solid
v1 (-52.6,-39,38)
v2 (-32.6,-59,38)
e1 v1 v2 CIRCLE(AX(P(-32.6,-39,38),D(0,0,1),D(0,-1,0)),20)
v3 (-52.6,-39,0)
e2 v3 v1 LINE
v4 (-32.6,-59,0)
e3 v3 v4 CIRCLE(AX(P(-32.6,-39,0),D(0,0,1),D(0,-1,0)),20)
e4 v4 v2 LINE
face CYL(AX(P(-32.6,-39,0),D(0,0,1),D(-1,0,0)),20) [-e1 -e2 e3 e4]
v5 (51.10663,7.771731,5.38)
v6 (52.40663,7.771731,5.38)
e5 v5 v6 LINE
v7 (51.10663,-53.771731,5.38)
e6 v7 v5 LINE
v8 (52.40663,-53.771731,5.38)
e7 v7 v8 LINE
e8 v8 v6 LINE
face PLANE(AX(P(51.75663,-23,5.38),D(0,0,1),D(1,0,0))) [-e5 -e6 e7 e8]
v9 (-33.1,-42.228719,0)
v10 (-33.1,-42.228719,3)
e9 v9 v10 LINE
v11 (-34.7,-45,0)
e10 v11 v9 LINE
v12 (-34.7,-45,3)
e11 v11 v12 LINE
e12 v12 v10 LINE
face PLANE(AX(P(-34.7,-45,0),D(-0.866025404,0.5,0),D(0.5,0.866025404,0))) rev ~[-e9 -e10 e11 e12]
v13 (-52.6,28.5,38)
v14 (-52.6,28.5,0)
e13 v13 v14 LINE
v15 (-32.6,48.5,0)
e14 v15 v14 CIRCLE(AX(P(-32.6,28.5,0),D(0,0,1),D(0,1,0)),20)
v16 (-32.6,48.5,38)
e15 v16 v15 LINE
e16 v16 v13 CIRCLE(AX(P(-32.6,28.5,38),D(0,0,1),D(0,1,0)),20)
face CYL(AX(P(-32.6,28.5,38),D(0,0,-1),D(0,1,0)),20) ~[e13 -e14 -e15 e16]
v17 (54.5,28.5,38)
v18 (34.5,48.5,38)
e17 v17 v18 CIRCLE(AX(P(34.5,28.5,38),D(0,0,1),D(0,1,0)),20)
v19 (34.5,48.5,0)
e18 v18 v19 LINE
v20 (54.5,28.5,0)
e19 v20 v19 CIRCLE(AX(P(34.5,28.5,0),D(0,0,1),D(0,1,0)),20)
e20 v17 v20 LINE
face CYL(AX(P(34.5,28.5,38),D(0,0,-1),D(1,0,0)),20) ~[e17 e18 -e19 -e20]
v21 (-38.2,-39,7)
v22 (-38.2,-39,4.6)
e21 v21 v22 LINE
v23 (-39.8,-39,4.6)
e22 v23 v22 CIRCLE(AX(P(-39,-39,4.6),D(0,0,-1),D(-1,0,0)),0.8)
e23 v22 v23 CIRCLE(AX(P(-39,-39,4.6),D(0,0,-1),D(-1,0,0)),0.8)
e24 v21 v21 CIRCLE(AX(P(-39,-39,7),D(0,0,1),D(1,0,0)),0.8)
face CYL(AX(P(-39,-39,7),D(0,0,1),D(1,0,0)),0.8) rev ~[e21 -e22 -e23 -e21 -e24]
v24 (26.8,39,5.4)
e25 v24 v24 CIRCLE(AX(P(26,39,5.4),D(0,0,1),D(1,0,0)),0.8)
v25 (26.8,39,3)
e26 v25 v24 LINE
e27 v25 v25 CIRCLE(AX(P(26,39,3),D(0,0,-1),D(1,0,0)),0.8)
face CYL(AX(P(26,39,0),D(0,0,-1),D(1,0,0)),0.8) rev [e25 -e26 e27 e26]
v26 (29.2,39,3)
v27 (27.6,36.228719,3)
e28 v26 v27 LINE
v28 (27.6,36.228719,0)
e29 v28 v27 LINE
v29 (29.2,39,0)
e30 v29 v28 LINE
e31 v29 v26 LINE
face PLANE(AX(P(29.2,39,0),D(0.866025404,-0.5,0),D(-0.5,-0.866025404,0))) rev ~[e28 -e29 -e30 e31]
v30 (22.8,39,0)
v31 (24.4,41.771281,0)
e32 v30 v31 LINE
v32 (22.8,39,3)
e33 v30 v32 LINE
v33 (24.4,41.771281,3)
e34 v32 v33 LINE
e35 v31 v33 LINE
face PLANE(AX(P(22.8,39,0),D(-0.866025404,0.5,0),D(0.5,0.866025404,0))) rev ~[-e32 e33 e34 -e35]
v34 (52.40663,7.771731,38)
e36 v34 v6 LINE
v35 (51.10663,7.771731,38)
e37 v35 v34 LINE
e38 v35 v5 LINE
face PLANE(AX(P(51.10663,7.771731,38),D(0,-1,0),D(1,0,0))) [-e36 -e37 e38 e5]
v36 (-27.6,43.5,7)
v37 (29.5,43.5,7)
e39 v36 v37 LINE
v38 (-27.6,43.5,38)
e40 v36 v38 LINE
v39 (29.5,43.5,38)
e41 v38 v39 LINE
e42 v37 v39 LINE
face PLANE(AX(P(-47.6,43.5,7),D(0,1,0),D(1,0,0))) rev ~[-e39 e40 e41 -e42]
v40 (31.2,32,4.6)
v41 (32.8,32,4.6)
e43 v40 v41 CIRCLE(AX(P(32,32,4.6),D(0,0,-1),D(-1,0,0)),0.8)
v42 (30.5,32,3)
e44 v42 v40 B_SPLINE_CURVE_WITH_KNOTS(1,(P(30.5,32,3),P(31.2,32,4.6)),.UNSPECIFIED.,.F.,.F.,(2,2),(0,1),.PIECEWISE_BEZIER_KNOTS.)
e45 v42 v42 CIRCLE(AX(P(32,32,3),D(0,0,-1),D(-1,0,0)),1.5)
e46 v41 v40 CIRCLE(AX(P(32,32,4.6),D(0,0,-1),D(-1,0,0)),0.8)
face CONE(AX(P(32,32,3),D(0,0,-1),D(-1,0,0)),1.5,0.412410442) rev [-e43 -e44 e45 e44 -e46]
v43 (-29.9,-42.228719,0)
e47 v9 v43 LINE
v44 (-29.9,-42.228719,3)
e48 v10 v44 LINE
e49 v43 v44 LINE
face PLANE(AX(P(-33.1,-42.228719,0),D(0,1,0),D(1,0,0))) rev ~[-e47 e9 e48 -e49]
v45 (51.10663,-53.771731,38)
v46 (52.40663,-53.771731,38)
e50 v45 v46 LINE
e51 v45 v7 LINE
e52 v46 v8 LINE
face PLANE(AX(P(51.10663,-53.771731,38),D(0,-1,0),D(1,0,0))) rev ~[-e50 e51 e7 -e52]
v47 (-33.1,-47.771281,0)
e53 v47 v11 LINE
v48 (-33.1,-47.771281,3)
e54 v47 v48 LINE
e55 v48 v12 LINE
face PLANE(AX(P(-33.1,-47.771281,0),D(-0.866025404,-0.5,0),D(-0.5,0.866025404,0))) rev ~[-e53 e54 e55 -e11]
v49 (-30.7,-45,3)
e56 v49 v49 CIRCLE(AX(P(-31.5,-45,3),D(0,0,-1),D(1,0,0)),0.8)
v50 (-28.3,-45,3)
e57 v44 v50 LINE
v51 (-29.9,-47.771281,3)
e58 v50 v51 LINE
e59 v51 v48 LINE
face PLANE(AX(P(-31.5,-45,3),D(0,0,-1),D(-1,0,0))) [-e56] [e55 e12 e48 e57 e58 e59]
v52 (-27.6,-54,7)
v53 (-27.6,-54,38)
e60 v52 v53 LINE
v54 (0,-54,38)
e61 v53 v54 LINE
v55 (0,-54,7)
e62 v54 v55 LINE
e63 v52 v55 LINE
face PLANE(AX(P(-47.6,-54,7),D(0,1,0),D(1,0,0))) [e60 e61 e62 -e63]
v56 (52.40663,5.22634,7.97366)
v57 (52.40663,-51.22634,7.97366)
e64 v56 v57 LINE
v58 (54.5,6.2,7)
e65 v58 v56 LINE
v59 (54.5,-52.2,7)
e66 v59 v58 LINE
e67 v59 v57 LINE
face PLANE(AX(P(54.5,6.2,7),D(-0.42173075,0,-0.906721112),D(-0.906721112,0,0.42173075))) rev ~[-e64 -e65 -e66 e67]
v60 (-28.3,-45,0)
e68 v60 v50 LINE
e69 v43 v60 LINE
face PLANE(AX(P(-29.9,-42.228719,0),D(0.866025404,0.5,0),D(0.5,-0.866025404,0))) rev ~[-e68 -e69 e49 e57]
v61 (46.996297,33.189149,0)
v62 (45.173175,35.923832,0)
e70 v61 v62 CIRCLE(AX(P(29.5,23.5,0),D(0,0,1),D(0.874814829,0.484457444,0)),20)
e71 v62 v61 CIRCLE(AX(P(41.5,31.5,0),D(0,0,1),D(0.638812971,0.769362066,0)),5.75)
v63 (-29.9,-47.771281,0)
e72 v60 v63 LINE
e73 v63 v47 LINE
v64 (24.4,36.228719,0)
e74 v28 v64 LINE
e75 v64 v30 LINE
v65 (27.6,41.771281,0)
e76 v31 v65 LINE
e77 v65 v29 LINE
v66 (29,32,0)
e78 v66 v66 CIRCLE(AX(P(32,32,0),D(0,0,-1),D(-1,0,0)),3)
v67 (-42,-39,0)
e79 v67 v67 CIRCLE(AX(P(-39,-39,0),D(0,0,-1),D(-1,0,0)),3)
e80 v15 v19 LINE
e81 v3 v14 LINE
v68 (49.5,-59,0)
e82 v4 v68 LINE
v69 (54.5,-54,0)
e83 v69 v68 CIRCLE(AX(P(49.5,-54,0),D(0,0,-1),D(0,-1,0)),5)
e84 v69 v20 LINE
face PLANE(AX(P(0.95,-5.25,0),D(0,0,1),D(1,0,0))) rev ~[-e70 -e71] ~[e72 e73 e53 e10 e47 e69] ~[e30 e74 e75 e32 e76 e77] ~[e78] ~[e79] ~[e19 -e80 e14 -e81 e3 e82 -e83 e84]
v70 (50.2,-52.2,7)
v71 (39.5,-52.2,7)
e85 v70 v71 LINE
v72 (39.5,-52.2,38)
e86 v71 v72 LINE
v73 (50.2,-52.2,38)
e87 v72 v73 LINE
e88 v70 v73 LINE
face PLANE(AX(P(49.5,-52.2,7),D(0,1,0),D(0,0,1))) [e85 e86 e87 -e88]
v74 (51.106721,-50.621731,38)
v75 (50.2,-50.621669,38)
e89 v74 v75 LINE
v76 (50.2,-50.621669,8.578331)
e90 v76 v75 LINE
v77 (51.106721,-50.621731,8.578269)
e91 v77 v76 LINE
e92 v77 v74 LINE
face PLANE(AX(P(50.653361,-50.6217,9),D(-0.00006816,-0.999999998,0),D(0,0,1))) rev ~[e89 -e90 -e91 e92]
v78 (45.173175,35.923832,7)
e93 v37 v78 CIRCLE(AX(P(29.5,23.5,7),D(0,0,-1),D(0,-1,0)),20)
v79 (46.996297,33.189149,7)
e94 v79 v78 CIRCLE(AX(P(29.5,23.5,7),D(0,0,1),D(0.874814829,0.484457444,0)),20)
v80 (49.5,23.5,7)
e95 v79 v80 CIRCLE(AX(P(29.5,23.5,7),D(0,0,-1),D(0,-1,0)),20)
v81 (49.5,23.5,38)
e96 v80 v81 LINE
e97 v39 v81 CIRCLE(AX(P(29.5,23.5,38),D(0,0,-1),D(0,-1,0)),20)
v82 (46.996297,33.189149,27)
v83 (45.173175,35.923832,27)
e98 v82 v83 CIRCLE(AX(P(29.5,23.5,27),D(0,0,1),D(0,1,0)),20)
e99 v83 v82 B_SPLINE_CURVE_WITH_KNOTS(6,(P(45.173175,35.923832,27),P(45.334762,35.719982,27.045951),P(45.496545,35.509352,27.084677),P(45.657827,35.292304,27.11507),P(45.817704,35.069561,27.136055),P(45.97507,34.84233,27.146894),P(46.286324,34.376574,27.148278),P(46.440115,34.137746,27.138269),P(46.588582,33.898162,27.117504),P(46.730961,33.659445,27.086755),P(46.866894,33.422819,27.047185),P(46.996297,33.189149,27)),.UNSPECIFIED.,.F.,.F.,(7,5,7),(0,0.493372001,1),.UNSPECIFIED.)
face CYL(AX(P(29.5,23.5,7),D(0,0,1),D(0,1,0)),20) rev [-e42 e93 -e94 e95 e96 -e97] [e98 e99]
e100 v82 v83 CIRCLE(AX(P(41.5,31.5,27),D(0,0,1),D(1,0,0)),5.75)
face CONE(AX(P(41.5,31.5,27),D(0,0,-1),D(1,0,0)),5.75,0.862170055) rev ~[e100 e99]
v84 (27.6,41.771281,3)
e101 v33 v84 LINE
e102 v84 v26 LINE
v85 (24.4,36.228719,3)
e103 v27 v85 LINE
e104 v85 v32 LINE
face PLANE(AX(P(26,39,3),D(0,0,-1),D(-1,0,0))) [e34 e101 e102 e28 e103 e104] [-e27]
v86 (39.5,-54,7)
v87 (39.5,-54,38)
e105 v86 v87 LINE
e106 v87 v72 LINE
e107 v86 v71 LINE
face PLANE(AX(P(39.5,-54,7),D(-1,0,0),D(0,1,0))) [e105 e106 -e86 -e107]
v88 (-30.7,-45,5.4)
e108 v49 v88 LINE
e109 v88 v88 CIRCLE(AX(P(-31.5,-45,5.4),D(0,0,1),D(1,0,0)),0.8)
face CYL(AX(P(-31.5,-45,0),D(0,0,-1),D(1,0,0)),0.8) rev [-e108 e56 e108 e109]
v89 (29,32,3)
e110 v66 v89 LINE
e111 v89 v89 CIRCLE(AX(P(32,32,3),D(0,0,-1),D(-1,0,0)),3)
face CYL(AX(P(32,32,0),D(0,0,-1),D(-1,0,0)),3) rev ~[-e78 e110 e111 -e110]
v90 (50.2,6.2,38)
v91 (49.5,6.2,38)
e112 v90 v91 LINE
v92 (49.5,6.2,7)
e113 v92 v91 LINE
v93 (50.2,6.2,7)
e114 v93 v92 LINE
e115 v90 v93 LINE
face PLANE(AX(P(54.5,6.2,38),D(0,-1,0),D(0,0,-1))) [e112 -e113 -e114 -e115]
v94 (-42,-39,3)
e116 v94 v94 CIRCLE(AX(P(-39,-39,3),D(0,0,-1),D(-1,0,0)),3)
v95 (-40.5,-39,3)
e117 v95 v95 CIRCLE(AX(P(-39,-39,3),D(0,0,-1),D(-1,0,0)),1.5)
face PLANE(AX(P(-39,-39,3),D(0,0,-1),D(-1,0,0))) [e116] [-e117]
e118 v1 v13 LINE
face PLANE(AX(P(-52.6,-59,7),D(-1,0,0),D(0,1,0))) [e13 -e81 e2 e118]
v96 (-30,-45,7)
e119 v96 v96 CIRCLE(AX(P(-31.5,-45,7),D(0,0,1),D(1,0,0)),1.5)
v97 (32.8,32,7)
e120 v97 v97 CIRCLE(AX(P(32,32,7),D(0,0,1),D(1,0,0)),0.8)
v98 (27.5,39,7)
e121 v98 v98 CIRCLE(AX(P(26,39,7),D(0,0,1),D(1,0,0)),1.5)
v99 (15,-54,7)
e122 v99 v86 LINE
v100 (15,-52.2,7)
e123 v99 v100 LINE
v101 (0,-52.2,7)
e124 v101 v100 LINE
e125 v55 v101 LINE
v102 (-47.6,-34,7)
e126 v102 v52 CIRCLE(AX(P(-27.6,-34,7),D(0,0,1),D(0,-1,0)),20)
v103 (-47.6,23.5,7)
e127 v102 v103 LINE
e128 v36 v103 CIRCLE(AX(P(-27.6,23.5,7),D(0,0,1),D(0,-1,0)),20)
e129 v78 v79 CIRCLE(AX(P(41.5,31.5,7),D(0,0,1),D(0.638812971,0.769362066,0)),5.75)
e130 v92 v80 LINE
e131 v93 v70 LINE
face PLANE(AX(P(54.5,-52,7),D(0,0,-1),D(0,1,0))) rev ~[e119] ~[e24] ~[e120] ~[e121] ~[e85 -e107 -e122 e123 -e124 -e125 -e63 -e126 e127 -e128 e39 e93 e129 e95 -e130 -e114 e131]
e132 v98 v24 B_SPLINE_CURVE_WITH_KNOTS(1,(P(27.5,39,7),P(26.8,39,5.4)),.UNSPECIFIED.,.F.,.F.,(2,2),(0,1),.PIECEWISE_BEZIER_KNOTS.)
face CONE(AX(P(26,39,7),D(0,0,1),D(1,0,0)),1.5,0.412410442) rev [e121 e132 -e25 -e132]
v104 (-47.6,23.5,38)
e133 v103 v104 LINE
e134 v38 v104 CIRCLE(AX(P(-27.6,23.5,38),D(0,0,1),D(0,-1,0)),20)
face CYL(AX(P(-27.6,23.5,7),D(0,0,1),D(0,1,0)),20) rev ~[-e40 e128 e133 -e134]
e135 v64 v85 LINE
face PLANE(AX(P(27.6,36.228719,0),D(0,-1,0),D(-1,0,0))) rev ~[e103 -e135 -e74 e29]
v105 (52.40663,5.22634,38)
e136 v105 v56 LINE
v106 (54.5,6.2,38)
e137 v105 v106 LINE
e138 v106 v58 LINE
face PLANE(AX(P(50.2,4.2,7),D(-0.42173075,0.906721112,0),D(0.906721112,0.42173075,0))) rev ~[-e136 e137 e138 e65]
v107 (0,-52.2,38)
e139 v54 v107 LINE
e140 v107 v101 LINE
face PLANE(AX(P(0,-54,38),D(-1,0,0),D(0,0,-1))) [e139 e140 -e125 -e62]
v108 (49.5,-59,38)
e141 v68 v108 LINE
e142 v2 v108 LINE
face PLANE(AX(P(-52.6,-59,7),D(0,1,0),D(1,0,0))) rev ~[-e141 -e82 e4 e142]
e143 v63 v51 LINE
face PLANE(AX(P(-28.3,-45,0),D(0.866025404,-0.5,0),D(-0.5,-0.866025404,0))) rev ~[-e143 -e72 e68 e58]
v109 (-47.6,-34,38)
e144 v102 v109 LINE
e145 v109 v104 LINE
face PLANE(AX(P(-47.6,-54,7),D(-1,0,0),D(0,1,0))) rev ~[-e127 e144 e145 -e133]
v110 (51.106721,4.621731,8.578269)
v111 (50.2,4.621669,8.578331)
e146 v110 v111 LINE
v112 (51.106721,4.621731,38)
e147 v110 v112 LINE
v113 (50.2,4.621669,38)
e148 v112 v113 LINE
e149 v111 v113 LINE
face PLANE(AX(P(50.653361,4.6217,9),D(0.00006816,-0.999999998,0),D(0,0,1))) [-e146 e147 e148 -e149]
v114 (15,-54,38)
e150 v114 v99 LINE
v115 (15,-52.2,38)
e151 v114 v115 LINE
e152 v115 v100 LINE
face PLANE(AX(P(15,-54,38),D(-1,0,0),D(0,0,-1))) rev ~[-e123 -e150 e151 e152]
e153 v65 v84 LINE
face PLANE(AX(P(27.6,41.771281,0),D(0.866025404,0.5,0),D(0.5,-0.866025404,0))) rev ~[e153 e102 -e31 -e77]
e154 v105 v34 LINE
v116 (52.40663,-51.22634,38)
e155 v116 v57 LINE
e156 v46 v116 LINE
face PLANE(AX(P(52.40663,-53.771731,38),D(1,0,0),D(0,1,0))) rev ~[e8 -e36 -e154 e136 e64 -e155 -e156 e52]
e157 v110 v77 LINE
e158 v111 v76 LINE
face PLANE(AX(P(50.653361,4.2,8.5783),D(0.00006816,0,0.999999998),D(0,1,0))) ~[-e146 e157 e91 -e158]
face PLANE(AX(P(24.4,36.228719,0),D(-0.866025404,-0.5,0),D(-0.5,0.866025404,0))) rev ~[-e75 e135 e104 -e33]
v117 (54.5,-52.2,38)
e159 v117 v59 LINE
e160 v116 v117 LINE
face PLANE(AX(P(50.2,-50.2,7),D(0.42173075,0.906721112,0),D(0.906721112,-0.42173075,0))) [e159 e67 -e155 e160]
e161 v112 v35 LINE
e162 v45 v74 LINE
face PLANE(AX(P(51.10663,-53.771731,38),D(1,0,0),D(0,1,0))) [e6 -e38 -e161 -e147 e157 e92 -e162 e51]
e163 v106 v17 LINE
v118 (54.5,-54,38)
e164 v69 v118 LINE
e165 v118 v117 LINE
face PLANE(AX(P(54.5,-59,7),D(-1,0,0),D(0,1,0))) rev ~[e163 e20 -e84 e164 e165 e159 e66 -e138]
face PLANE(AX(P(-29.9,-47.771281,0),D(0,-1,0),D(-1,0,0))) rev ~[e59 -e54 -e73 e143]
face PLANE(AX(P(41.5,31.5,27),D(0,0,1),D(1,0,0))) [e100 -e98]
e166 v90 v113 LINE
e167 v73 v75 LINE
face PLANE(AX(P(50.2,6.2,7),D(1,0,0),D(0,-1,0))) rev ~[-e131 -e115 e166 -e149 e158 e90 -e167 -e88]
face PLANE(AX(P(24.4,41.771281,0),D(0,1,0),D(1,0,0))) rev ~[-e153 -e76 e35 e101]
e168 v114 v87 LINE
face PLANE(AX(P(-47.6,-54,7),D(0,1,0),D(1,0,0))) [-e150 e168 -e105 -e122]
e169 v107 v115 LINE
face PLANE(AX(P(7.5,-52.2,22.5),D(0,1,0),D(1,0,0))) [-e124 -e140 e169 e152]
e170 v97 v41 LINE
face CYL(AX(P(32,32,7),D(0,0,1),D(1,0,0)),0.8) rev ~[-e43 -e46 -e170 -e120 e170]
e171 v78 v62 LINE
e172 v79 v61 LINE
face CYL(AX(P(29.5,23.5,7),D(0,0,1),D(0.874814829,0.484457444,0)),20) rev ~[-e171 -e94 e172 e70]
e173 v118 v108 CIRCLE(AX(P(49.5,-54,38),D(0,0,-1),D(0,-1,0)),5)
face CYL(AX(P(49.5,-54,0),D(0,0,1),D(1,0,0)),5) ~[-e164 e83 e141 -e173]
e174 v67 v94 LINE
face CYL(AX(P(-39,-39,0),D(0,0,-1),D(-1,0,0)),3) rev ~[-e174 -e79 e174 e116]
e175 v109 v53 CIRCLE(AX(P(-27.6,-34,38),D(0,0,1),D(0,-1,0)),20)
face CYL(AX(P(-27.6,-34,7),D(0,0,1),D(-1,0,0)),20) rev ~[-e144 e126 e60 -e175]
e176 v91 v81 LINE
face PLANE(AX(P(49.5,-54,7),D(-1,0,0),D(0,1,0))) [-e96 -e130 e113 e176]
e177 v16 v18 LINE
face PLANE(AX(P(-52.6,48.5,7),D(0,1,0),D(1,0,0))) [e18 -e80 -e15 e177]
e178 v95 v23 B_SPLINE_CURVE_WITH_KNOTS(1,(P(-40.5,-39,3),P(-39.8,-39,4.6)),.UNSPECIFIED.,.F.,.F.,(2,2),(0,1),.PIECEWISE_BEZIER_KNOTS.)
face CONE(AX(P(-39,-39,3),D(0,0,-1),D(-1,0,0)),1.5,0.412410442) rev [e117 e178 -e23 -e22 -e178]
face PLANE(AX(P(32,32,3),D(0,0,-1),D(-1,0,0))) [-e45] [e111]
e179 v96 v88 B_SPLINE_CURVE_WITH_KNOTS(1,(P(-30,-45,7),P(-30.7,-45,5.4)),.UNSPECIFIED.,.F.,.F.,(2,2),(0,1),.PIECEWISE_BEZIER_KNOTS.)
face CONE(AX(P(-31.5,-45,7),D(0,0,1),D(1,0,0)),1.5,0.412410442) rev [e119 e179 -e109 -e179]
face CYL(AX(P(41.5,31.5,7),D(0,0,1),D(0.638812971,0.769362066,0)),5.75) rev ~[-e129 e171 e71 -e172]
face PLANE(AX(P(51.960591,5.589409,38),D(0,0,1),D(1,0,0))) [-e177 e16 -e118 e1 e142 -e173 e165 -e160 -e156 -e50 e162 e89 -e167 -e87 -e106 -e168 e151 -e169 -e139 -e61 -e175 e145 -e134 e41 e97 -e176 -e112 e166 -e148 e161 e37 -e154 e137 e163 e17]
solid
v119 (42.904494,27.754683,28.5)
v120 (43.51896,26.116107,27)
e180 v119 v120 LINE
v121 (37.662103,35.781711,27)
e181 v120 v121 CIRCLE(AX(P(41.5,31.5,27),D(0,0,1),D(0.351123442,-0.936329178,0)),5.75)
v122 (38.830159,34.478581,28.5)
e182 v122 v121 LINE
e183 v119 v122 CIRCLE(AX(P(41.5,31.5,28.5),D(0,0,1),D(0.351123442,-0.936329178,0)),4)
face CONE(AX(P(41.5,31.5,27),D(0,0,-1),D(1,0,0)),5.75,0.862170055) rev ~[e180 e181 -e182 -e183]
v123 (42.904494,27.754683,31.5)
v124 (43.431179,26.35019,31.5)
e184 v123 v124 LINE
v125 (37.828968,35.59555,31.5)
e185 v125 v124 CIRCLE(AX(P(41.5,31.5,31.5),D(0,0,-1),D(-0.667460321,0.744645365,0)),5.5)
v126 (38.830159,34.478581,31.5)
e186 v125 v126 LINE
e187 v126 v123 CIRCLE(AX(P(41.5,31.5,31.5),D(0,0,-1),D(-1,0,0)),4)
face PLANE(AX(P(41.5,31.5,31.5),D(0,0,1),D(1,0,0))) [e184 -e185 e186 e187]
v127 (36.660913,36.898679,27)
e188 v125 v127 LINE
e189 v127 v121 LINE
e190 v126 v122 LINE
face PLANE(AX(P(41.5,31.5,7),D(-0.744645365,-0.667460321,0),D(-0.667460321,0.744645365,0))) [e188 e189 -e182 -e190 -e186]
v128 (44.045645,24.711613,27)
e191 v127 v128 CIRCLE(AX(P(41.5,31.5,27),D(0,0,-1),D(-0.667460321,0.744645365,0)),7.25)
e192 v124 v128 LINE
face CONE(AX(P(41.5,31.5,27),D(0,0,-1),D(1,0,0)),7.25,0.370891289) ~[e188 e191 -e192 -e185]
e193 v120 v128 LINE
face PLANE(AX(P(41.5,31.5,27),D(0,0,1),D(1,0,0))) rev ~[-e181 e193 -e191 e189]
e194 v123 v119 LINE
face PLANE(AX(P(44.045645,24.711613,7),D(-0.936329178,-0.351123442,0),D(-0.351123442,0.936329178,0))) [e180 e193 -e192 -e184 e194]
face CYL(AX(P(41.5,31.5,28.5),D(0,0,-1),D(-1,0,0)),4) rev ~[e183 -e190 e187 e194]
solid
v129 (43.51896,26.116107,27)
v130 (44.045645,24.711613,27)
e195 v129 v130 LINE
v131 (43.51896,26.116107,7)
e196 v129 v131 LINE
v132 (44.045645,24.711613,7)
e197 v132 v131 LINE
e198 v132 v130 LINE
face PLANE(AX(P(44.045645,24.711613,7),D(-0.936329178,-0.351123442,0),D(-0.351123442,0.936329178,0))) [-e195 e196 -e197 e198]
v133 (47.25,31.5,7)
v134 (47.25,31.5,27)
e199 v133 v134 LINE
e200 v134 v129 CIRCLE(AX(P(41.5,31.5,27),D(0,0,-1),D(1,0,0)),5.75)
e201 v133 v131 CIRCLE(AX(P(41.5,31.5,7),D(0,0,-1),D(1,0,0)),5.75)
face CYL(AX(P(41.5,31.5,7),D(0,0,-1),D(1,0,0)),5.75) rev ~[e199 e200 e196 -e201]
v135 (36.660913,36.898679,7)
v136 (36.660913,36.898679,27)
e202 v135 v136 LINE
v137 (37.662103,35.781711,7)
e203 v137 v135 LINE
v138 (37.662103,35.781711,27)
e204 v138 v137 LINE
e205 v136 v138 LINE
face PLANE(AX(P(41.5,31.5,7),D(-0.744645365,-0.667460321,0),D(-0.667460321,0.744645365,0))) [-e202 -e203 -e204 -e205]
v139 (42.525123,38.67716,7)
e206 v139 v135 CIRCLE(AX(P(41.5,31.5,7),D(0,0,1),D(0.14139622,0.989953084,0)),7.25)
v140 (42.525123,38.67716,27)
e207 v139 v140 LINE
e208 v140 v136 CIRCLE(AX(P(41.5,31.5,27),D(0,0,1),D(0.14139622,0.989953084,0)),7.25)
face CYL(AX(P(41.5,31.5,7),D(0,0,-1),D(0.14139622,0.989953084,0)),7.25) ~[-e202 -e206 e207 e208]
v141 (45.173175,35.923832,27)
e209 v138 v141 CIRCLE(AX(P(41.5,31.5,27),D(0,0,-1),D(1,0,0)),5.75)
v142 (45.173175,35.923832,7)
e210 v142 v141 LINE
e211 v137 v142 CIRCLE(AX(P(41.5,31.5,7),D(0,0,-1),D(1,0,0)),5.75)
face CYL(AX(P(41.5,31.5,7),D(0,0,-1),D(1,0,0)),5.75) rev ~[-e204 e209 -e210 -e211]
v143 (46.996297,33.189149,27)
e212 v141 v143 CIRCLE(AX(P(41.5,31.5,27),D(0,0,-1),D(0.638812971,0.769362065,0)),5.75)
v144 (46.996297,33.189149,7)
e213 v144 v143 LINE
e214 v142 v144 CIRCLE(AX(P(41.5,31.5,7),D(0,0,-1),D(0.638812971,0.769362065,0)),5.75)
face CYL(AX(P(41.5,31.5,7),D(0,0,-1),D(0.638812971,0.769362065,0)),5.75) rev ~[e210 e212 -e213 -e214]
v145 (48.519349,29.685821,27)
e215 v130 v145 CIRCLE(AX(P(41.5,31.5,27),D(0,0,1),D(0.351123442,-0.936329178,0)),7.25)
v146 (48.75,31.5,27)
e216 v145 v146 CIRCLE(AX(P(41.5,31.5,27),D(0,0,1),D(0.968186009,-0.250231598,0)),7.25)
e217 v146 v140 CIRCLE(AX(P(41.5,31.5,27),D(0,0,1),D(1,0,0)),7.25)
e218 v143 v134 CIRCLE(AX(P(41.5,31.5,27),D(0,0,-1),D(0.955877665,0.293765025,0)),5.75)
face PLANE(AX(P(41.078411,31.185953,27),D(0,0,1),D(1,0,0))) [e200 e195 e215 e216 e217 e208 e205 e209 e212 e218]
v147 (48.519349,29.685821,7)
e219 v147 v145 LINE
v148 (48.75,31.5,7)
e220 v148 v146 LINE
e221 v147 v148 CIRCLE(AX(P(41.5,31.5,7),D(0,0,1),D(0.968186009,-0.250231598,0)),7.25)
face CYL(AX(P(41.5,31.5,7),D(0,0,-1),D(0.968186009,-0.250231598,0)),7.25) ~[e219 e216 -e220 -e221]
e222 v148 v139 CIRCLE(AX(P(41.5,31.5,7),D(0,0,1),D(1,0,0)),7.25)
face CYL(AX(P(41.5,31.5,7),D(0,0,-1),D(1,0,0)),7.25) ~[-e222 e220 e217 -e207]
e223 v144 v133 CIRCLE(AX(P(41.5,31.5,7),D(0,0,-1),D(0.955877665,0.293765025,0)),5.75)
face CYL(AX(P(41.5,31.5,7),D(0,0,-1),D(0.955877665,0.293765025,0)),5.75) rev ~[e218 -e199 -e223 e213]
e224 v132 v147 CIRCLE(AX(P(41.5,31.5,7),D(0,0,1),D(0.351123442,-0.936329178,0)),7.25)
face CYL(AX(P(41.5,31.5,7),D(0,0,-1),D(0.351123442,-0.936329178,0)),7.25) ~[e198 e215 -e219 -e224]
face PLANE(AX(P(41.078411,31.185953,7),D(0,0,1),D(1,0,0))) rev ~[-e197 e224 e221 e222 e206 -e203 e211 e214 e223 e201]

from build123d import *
from OCP.BRepFilletAPI import BRepFilletAPI_MakeChamfer

# Parameters (mm, degrees)
SKETCH1_W           = 97.1
SKETCH1_H           = 97.5
SKETCH1_R           = 0.8
BOSS_EXTRUDE1_DEPTH = 7
CUT_EXTRUDE1_DEPTH  = 3
SKETCH3_W           = 107.1
SKETCH3_H           = 107.5
SKETCH3_W_2         = 97.1
SKETCH3_H_2         = 97.5
BOSS_EXTRUDE2_DEPTH = 7
SKETCH4_W           = 107.1
SKETCH4_H           = 107.5
SKETCH4_W_2         = 97.1
SKETCH4_H_2         = 97.5
BOSS_EXTRUDE3_DEPTH = 31
SKETCH5_W           = 31
SKETCH5_H           = 58
CUT_EXTRUDE2_DEPTH  = 33
MOVE_FACE2_BY       = 10
MOVE_FACE3_BY       = 0.2
SKETCH6_W           = 15
SKETCH6_H           = 31
BOSS_EXTRUDE4_DEPTH = 1.8
MOVE_FACE4_BY       = 0.2
BOSS_EXTRUDE5_DEPTH = 31
BOSS_EXTRUDE6_DEPTH = 58.4
SKETCH13_R          = 1.5
SKETCH14_R          = 0.8
SKETCH13_4_R        = 1.5
SKETCH14_4_R        = 0.8
FILLET2_R           = 20
FILLET3_R           = 20
FILLET4_R           = 20
FILLET5_R           = 20
FILLET6_R           = 5
CHAMFER1_SIZE       = 1
CHAMFER1_SIZE2      = 0.421668948
SKETCH16_R          = 0.8
CUT_EXTRUDE3_DEPTH  = 87.094424907
SKETCH20_W          = 1.3
SKETCH20_H          = 61.543461502
CUT_EXTRUDE4_DEPTH  = 32.62
BOSS_EXTRUDE7_DEPTH = 20
SKETCH25_R          = 7.25
BOSS_EXTRUDE8_DEPTH = 4.5
SKETCH24_R          = 5.75
SKETCH23_R          = 4
SKETCH26_R          = 4
CUT_EXTRUDE5_DEPTH  = 4.5
CUT_EXTRUDE6_DEPTH  = 34.5
CUT_EXTRUDE7_DEPTH  = 34.5
SKETCH34_R          = 3
CUT_EXTRUDE9_DEPTH  = 3
SKETCH36_R          = 1.5
SKETCH35_R          = 0.8
SKETCH36_3_R        = 1.5
SKETCH35_3_R        = 0.8


with BuildPart() as part:
    # Sketch1 → Boss-Extrude1 (new body)
    with BuildSketch(Plane.XY):
        with Locations((0.95, -5.25)):
            Rectangle(SKETCH1_W, SKETCH1_H)
        with Locations((-31.5, -45)):
            Circle(SKETCH1_R, mode=Mode.SUBTRACT)
        with Locations((26, 39)):
            Circle(SKETCH1_R, mode=Mode.SUBTRACT)
    extrude(amount=BOSS_EXTRUDE1_DEPTH)

    # Sketch2 → Cut-Extrude1 (cut)
    with BuildSketch(Plane(origin=(0, 0, 0), x_dir=(-1, 0, 0), z_dir=(0, 0, -1))):
        Polygon((-24.4, 36.228718708), (-22.8, 39), (-24.4, 41.771281292), (-27.6, 41.771281292), (-29.2, 39), (-27.6, 36.228718708), align=None)
        Polygon((33.1, -47.771281292), (34.7, -45), (33.1, -42.228718708), (29.9, -42.228718708), (28.3, -45), (29.9, -47.771281292), align=None)
    extrude(amount=-CUT_EXTRUDE1_DEPTH, mode=Mode.SUBTRACT)

    # Sketch3 → Boss-Extrude2 (add)
    with BuildSketch(Plane.XY.offset(7)):
        with Locations((0.95, -5.25)):
            Rectangle(SKETCH3_W, SKETCH3_H)
        with Locations((0.95, -5.25)):
            Rectangle(SKETCH3_W_2, SKETCH3_H_2, mode=Mode.SUBTRACT)
    extrude(amount=-BOSS_EXTRUDE2_DEPTH)

    # Sketch4 → Boss-Extrude3 (add)
    with BuildSketch(Plane.XY.offset(7)):
        with Locations((0.95, -5.25)):
            Rectangle(SKETCH4_W, SKETCH4_H)
        with Locations((0.95, -5.25)):
            Rectangle(SKETCH4_W_2, SKETCH4_H_2, mode=Mode.SUBTRACT)
    extrude(amount=BOSS_EXTRUDE3_DEPTH)

    # Sketch5 → Cut-Extrude2 (cut)
    with BuildSketch(Plane(origin=(54.5, 0, 0), x_dir=(0, 0, -1), z_dir=(1, 0, 0))):
        with Locations((-22.5, -23)):
            Rectangle(SKETCH5_W, SKETCH5_H)
    extrude(amount=-CUT_EXTRUDE2_DEPTH, mode=Mode.SUBTRACT)

    # Move Face2: a face moved outward by 10.0
    extrude(part.faces().sort_by_distance((49.5, -53, 22.5))[0], amount=MOVE_FACE2_BY, dir=(-1, 0, 0))

    # Move Face3: a face moved inward by 0.2
    extrude(part.faces().sort_by_distance((47, -52, 22.5))[0], amount=MOVE_FACE3_BY, dir=(0, -1, 0), mode=Mode.SUBTRACT)

    # Sketch6 → Boss-Extrude4 (add)
    with BuildSketch(Plane(origin=(0, -54, 0), x_dir=(1, 0, 0), z_dir=(0, 1, 0))):
        with Locations((7.5, -22.5)):
            Rectangle(SKETCH6_W, SKETCH6_H)
    extrude(amount=BOSS_EXTRUDE4_DEPTH)

    # Move Face4: a face moved inward by 0.2
    extrude(part.faces().sort_by_distance((52, 6, 22.5))[0], amount=MOVE_FACE4_BY, dir=(0, 1, 0), mode=Mode.SUBTRACT)

    # Sketch10 → Boss-Extrude5 (add)
    with BuildSketch(Plane.XY.offset(7)):
        Polygon((54.5, 6.2), (50.2, 6.2), (50.2, 4.2), align=None)
        Polygon((54.5, -52.2), (50.2, -52.2), (50.2, -50.2), align=None)
    extrude(amount=BOSS_EXTRUDE5_DEPTH)

    # Sketch11 → Boss-Extrude6 (add)
    with BuildSketch(Plane.XZ.offset(-6.2)):
        Polygon((50.2, 7), (54.5, 7), (50.2, 9), align=None)
    extrude(amount=BOSS_EXTRUDE6_DEPTH)

    # Sketch13 → Cut-Loft1 section 0
    with BuildSketch(Plane.XY.offset(7)):
        with Locations((-31.5, -45)):
            Circle(SKETCH13_R)
    # Sketch14 → Cut-Loft1 section 1
    with BuildSketch(Plane.XY.offset(5.4)):
        with Locations((-31.5, -45)):
            Circle(SKETCH14_R)
    loft(mode=Mode.SUBTRACT)

    # Sketch13<4> → Cut-Loft2 section 0
    with BuildSketch(Plane.XY.offset(7)):
        with Locations((26, 39)):
            Circle(SKETCH13_4_R)
    # Sketch14<4> → Cut-Loft2 section 1
    with BuildSketch(Plane.XY.offset(5.4)):
        with Locations((26, 39)):
            Circle(SKETCH14_4_R)
    loft(mode=Mode.SUBTRACT)

    # Fillet2
    fillet2_edges = [part.edges().sort_by_distance(p)[0] for p in [
        (-47.6, 43.5, 22.5),
    ]]
    fillet(fillet2_edges, radius=FILLET2_R)

    # Fillet3
    fillet3_edges = [part.edges().sort_by_distance(p)[0] for p in [
        (-47.6, -54, 22.5),
    ]]
    fillet(fillet3_edges, radius=FILLET3_R)

    # Fillet4
    fillet4_edges = [part.edges().sort_by_distance(p)[0] for p in [
        (49.5, 43.5, 22.5),
    ]]
    fillet(fillet4_edges, radius=FILLET4_R)

    # Fillet5
    fillet5_edges = [part.edges().sort_by_distance(p)[0] for p in [
        (-52.6, 48.5, 19),
        (54.5, 48.5, 19),
        (-52.6, -59, 19),
    ]]
    fillet(fillet5_edges, radius=FILLET5_R)

    # Fillet6
    fillet6_edges = [part.edges().sort_by_distance(p)[0] for p in [
        (54.5, -59, 19),
    ]]
    fillet(fillet6_edges, radius=FILLET6_R)

    # Chamfer1: one chamfer whose edges measure the first distance from different faces: ONE call of the kernel's chamfer builder (chamfer() names one face for all edges)
    chamfer1_edges_1 = [part.edges().sort_by_distance(p)[0] for p in [
        (50.2, 4.2, 23.5),
    ]]
    chamfer1_side_1 = [part.faces().sort_by_distance(p)[0] for p in [
        (52.373888889, 5.211111111, 22.994444444),
    ]]
    chamfer1_edges_2 = [part.edges().sort_by_distance(p)[0] for p in [
        (50.2, -50.2, 23.5),
    ]]
    chamfer1_side_2 = [part.faces().sort_by_distance(p)[0] for p in [
        (52.373888889, -51.211111111, 22.994444444),
    ]]
    chamfer1_edges_3 = [part.edges().sort_by_distance(p)[0] for p in [
        (50.2, -23, 9),
    ]]
    chamfer1_side_3 = [part.faces().sort_by_distance(p)[0] for p in [
        (52.375413712, -23, 7.988179669),
    ]]
    chamfer1 = BRepFilletAPI_MakeChamfer(part.part.solid().wrapped)
    for e in chamfer1_edges_1:
        chamfer1.Add(CHAMFER1_SIZE, CHAMFER1_SIZE2, e.wrapped, chamfer1_side_1[0].wrapped)  # the first distance lies on this face
    for e in chamfer1_edges_2:
        chamfer1.Add(CHAMFER1_SIZE, CHAMFER1_SIZE2, e.wrapped, chamfer1_side_2[0].wrapped)  # the first distance lies on this face
    for e in chamfer1_edges_3:
        chamfer1.Add(CHAMFER1_SIZE, CHAMFER1_SIZE2, e.wrapped, chamfer1_side_3[0].wrapped)  # the first distance lies on this face
    add(Compound.cast(chamfer1.Shape()), mode=Mode.REPLACE)

    # Sketch16 → Cut-Extrude3 (cut, through all)
    with BuildSketch(Plane.XY.offset(7)):
        with Locations((32, 32)):
            Circle(SKETCH16_R)
        with Locations((-39, -39)):
            Circle(SKETCH16_R)
    extrude(amount=-CUT_EXTRUDE3_DEPTH, mode=Mode.SUBTRACT)

    # Sketch20 → Cut-Extrude4 (cut)
    with BuildSketch(Plane.XY.offset(38)):
        with Locations((51.756630498, -23)):
            Rectangle(SKETCH20_W, SKETCH20_H)
    extrude(amount=-CUT_EXTRUDE4_DEPTH, mode=Mode.SUBTRACT)


with BuildPart() as body_2:
    # Sketch21 → Boss-Extrude7 (new body)
    with BuildSketch(Plane.XY.offset(7)):
        with BuildLine():
            ThreePointArc((44.045644952, 24.711613463), (46.890543586, 26.651851916), (48.519348561, 29.685820908))
            ThreePointArc((48.519348561, 29.685820908), (47.841657822, 31.4739318), (46.996296574, 33.189148889))
            ThreePointArc((46.996296574, 33.189148889), (47.186220419, 32.354047627), (47.25, 31.5))
            ThreePointArc((47.25, 31.5), (36.295038241, 29.056462997), (45.17317458, 35.923831881))
            ThreePointArc((45.17317458, 35.923831881), (43.915036208, 37.36386422), (42.525122593, 38.677159861))
            ThreePointArc((42.525122593, 38.677159861), (39.395877764, 38.437951399), (36.660912672, 36.898678897))
            ThreePointArc((36.660912672, 36.898678897), (35.299507241, 27.742821598), (44.045644952, 24.711613463))
        make_face()
        with BuildLine():
            ThreePointArc((46.996296574, 33.189148889), (47.841657822, 31.4739318), (48.519348561, 29.685820908))
            ThreePointArc((48.519348561, 29.685820908), (48.692105987, 30.585608691), (48.75, 31.5))
            ThreePointArc((48.75, 31.5), (46.976980865, 36.25028216), (42.525122593, 38.677159861))
            ThreePointArc((42.525122593, 38.677159861), (43.915036208, 37.36386422), (45.17317458, 35.923831881))
            ThreePointArc((45.17317458, 35.923831881), (46.284289192, 34.689526128), (46.996296574, 33.189148889))
        make_face()
    extrude(amount=BOSS_EXTRUDE7_DEPTH)


with BuildPart() as body_3:
    # Sketch25 → Boss-Extrude8 (new body)
    with BuildSketch(Plane.XY.offset(27)):
        with Locations((41.5, 31.5)):
            Circle(SKETCH25_R)
    extrude(amount=BOSS_EXTRUDE8_DEPTH)


with BuildPart() as cut_loft5_tool:
    # Sketch24 → Cut-Loft5 section 0
    with BuildSketch(Plane.XY.offset(27)):
        with Locations((41.5, 31.5)):
            Circle(SKETCH24_R)
    # Sketch23 → Cut-Loft5 section 1
    with BuildSketch(Plane.XY.offset(28.5)):
        with Locations((41.5, 31.5)):
            Circle(SKETCH23_R)
    loft()


with BuildPart() as part_1:
    add(part.part)

    # Cut-Loft5: cut by cut_loft5_tool
    add(cut_loft5_tool.part, mode=Mode.SUBTRACT)

    # Sketch31 → Cut-Extrude7 (cut)
    with BuildSketch(Plane.XY.offset(7)):
        with BuildLine():
            ThreePointArc((45.17317458, 35.923831881), (36.715710808, 28.310473872), (46.996296574, 33.189148889))
            ThreePointArc((46.996296574, 33.189148889), (46.141005887, 34.594003925), (45.17317458, 35.923831881))
        make_face()
    extrude(amount=-CUT_EXTRUDE7_DEPTH, mode=Mode.SUBTRACT)

    # Sketch34 → Cut-Extrude9 (cut)
    with BuildSketch(Plane(origin=(0, 0, 0), x_dir=(-1, 0, 0), z_dir=(0, 0, -1))):
        with Locations((-32, 32)):
            Circle(SKETCH34_R)
        with Locations((39, -39)):
            Circle(SKETCH34_R)
    extrude(amount=-CUT_EXTRUDE9_DEPTH, mode=Mode.SUBTRACT)

    # Sketch36 → Cut-Loft6 section 0
    with BuildSketch(Plane(origin=(0, 0, 3), x_dir=(-1, 0, 0), z_dir=(0, 0, -1))):
        with Locations((39, -39)):
            Circle(SKETCH36_R)
    # Sketch35 → Cut-Loft6 section 1
    with BuildSketch(Plane(origin=(0, 0, 4.6), x_dir=(-1, 0, 0), z_dir=(0, 0, -1))):
        with Locations((39, -39)):
            Circle(SKETCH35_R)
    loft(mode=Mode.SUBTRACT)

    # Sketch36<3> → Cut-Loft7 section 0
    with BuildSketch(Plane(origin=(0, 0, 3), x_dir=(-1, 0, 0), z_dir=(0, 0, -1))):
        with Locations((-32, 32)):
            Circle(SKETCH36_3_R)
    # Sketch35<3> → Cut-Loft7 section 1
    with BuildSketch(Plane(origin=(0, 0, 4.6), x_dir=(-1, 0, 0), z_dir=(0, 0, -1))):
        with Locations((-32, 32)):
            Circle(SKETCH35_3_R)
    loft(mode=Mode.SUBTRACT)


with BuildPart() as body_3_1:
    add(body_3.part)

    # Cut-Loft5: cut by cut_loft5_tool
    add(cut_loft5_tool.part, mode=Mode.SUBTRACT)

    # Sketch26 → Cut-Extrude5 (cut)
    with BuildSketch(Plane(origin=(0, 0, 28.5), x_dir=(-1, 0, 0), z_dir=(0, 0, -1))):
        with Locations((-41.5, 31.5)):
            Circle(SKETCH26_R)
    extrude(amount=-CUT_EXTRUDE5_DEPTH, mode=Mode.SUBTRACT)

    # Sketch28 → Cut-Revolve1 (revolve, cut)
    with BuildSketch(Plane(origin=(0, 31.5, 0), x_dir=(-1, 0, 0), z_dir=(0, -1, 0)), mode=Mode.PRIVATE) as cut_revolve1_sk:
        Polygon((-34.25, -31.5), (-34.25, -27), (-36, -31.5), align=None)
    revolve(cut_revolve1_sk.sketch.rotate(Axis((41.5, 31.5, 31.5), (0, 0, -1)), 180), axis=Axis((41.5, 31.5, 31.5), (0, 0, -1)), mode=Mode.SUBTRACT)


with BuildPart() as cut_extrude6_tool:
    # Sketch30 → Cut-Extrude6 (new body)
    with BuildSketch(Plane.XY.offset(7)):
        Polygon((41.5, 31.5), (36.660912672, 36.898678897), (28.18676226, 29.302903216), (36.772796235, 19.723981141), (44.045644952, 24.711613463), align=None)
    extrude(amount=CUT_EXTRUDE6_DEPTH)


with BuildPart() as body_2_1:
    add(body_2.part)

    # Cut-Extrude6: cut by cut_extrude6_tool
    add(cut_extrude6_tool.part, mode=Mode.SUBTRACT)


with BuildPart() as body_3_2:
    add(body_3_1.part)

    # Cut-Extrude6: cut by cut_extrude6_tool
    add(cut_extrude6_tool.part, mode=Mode.SUBTRACT)


solid = Compound([part_1.part, body_2_1.part, body_3_2.part])
